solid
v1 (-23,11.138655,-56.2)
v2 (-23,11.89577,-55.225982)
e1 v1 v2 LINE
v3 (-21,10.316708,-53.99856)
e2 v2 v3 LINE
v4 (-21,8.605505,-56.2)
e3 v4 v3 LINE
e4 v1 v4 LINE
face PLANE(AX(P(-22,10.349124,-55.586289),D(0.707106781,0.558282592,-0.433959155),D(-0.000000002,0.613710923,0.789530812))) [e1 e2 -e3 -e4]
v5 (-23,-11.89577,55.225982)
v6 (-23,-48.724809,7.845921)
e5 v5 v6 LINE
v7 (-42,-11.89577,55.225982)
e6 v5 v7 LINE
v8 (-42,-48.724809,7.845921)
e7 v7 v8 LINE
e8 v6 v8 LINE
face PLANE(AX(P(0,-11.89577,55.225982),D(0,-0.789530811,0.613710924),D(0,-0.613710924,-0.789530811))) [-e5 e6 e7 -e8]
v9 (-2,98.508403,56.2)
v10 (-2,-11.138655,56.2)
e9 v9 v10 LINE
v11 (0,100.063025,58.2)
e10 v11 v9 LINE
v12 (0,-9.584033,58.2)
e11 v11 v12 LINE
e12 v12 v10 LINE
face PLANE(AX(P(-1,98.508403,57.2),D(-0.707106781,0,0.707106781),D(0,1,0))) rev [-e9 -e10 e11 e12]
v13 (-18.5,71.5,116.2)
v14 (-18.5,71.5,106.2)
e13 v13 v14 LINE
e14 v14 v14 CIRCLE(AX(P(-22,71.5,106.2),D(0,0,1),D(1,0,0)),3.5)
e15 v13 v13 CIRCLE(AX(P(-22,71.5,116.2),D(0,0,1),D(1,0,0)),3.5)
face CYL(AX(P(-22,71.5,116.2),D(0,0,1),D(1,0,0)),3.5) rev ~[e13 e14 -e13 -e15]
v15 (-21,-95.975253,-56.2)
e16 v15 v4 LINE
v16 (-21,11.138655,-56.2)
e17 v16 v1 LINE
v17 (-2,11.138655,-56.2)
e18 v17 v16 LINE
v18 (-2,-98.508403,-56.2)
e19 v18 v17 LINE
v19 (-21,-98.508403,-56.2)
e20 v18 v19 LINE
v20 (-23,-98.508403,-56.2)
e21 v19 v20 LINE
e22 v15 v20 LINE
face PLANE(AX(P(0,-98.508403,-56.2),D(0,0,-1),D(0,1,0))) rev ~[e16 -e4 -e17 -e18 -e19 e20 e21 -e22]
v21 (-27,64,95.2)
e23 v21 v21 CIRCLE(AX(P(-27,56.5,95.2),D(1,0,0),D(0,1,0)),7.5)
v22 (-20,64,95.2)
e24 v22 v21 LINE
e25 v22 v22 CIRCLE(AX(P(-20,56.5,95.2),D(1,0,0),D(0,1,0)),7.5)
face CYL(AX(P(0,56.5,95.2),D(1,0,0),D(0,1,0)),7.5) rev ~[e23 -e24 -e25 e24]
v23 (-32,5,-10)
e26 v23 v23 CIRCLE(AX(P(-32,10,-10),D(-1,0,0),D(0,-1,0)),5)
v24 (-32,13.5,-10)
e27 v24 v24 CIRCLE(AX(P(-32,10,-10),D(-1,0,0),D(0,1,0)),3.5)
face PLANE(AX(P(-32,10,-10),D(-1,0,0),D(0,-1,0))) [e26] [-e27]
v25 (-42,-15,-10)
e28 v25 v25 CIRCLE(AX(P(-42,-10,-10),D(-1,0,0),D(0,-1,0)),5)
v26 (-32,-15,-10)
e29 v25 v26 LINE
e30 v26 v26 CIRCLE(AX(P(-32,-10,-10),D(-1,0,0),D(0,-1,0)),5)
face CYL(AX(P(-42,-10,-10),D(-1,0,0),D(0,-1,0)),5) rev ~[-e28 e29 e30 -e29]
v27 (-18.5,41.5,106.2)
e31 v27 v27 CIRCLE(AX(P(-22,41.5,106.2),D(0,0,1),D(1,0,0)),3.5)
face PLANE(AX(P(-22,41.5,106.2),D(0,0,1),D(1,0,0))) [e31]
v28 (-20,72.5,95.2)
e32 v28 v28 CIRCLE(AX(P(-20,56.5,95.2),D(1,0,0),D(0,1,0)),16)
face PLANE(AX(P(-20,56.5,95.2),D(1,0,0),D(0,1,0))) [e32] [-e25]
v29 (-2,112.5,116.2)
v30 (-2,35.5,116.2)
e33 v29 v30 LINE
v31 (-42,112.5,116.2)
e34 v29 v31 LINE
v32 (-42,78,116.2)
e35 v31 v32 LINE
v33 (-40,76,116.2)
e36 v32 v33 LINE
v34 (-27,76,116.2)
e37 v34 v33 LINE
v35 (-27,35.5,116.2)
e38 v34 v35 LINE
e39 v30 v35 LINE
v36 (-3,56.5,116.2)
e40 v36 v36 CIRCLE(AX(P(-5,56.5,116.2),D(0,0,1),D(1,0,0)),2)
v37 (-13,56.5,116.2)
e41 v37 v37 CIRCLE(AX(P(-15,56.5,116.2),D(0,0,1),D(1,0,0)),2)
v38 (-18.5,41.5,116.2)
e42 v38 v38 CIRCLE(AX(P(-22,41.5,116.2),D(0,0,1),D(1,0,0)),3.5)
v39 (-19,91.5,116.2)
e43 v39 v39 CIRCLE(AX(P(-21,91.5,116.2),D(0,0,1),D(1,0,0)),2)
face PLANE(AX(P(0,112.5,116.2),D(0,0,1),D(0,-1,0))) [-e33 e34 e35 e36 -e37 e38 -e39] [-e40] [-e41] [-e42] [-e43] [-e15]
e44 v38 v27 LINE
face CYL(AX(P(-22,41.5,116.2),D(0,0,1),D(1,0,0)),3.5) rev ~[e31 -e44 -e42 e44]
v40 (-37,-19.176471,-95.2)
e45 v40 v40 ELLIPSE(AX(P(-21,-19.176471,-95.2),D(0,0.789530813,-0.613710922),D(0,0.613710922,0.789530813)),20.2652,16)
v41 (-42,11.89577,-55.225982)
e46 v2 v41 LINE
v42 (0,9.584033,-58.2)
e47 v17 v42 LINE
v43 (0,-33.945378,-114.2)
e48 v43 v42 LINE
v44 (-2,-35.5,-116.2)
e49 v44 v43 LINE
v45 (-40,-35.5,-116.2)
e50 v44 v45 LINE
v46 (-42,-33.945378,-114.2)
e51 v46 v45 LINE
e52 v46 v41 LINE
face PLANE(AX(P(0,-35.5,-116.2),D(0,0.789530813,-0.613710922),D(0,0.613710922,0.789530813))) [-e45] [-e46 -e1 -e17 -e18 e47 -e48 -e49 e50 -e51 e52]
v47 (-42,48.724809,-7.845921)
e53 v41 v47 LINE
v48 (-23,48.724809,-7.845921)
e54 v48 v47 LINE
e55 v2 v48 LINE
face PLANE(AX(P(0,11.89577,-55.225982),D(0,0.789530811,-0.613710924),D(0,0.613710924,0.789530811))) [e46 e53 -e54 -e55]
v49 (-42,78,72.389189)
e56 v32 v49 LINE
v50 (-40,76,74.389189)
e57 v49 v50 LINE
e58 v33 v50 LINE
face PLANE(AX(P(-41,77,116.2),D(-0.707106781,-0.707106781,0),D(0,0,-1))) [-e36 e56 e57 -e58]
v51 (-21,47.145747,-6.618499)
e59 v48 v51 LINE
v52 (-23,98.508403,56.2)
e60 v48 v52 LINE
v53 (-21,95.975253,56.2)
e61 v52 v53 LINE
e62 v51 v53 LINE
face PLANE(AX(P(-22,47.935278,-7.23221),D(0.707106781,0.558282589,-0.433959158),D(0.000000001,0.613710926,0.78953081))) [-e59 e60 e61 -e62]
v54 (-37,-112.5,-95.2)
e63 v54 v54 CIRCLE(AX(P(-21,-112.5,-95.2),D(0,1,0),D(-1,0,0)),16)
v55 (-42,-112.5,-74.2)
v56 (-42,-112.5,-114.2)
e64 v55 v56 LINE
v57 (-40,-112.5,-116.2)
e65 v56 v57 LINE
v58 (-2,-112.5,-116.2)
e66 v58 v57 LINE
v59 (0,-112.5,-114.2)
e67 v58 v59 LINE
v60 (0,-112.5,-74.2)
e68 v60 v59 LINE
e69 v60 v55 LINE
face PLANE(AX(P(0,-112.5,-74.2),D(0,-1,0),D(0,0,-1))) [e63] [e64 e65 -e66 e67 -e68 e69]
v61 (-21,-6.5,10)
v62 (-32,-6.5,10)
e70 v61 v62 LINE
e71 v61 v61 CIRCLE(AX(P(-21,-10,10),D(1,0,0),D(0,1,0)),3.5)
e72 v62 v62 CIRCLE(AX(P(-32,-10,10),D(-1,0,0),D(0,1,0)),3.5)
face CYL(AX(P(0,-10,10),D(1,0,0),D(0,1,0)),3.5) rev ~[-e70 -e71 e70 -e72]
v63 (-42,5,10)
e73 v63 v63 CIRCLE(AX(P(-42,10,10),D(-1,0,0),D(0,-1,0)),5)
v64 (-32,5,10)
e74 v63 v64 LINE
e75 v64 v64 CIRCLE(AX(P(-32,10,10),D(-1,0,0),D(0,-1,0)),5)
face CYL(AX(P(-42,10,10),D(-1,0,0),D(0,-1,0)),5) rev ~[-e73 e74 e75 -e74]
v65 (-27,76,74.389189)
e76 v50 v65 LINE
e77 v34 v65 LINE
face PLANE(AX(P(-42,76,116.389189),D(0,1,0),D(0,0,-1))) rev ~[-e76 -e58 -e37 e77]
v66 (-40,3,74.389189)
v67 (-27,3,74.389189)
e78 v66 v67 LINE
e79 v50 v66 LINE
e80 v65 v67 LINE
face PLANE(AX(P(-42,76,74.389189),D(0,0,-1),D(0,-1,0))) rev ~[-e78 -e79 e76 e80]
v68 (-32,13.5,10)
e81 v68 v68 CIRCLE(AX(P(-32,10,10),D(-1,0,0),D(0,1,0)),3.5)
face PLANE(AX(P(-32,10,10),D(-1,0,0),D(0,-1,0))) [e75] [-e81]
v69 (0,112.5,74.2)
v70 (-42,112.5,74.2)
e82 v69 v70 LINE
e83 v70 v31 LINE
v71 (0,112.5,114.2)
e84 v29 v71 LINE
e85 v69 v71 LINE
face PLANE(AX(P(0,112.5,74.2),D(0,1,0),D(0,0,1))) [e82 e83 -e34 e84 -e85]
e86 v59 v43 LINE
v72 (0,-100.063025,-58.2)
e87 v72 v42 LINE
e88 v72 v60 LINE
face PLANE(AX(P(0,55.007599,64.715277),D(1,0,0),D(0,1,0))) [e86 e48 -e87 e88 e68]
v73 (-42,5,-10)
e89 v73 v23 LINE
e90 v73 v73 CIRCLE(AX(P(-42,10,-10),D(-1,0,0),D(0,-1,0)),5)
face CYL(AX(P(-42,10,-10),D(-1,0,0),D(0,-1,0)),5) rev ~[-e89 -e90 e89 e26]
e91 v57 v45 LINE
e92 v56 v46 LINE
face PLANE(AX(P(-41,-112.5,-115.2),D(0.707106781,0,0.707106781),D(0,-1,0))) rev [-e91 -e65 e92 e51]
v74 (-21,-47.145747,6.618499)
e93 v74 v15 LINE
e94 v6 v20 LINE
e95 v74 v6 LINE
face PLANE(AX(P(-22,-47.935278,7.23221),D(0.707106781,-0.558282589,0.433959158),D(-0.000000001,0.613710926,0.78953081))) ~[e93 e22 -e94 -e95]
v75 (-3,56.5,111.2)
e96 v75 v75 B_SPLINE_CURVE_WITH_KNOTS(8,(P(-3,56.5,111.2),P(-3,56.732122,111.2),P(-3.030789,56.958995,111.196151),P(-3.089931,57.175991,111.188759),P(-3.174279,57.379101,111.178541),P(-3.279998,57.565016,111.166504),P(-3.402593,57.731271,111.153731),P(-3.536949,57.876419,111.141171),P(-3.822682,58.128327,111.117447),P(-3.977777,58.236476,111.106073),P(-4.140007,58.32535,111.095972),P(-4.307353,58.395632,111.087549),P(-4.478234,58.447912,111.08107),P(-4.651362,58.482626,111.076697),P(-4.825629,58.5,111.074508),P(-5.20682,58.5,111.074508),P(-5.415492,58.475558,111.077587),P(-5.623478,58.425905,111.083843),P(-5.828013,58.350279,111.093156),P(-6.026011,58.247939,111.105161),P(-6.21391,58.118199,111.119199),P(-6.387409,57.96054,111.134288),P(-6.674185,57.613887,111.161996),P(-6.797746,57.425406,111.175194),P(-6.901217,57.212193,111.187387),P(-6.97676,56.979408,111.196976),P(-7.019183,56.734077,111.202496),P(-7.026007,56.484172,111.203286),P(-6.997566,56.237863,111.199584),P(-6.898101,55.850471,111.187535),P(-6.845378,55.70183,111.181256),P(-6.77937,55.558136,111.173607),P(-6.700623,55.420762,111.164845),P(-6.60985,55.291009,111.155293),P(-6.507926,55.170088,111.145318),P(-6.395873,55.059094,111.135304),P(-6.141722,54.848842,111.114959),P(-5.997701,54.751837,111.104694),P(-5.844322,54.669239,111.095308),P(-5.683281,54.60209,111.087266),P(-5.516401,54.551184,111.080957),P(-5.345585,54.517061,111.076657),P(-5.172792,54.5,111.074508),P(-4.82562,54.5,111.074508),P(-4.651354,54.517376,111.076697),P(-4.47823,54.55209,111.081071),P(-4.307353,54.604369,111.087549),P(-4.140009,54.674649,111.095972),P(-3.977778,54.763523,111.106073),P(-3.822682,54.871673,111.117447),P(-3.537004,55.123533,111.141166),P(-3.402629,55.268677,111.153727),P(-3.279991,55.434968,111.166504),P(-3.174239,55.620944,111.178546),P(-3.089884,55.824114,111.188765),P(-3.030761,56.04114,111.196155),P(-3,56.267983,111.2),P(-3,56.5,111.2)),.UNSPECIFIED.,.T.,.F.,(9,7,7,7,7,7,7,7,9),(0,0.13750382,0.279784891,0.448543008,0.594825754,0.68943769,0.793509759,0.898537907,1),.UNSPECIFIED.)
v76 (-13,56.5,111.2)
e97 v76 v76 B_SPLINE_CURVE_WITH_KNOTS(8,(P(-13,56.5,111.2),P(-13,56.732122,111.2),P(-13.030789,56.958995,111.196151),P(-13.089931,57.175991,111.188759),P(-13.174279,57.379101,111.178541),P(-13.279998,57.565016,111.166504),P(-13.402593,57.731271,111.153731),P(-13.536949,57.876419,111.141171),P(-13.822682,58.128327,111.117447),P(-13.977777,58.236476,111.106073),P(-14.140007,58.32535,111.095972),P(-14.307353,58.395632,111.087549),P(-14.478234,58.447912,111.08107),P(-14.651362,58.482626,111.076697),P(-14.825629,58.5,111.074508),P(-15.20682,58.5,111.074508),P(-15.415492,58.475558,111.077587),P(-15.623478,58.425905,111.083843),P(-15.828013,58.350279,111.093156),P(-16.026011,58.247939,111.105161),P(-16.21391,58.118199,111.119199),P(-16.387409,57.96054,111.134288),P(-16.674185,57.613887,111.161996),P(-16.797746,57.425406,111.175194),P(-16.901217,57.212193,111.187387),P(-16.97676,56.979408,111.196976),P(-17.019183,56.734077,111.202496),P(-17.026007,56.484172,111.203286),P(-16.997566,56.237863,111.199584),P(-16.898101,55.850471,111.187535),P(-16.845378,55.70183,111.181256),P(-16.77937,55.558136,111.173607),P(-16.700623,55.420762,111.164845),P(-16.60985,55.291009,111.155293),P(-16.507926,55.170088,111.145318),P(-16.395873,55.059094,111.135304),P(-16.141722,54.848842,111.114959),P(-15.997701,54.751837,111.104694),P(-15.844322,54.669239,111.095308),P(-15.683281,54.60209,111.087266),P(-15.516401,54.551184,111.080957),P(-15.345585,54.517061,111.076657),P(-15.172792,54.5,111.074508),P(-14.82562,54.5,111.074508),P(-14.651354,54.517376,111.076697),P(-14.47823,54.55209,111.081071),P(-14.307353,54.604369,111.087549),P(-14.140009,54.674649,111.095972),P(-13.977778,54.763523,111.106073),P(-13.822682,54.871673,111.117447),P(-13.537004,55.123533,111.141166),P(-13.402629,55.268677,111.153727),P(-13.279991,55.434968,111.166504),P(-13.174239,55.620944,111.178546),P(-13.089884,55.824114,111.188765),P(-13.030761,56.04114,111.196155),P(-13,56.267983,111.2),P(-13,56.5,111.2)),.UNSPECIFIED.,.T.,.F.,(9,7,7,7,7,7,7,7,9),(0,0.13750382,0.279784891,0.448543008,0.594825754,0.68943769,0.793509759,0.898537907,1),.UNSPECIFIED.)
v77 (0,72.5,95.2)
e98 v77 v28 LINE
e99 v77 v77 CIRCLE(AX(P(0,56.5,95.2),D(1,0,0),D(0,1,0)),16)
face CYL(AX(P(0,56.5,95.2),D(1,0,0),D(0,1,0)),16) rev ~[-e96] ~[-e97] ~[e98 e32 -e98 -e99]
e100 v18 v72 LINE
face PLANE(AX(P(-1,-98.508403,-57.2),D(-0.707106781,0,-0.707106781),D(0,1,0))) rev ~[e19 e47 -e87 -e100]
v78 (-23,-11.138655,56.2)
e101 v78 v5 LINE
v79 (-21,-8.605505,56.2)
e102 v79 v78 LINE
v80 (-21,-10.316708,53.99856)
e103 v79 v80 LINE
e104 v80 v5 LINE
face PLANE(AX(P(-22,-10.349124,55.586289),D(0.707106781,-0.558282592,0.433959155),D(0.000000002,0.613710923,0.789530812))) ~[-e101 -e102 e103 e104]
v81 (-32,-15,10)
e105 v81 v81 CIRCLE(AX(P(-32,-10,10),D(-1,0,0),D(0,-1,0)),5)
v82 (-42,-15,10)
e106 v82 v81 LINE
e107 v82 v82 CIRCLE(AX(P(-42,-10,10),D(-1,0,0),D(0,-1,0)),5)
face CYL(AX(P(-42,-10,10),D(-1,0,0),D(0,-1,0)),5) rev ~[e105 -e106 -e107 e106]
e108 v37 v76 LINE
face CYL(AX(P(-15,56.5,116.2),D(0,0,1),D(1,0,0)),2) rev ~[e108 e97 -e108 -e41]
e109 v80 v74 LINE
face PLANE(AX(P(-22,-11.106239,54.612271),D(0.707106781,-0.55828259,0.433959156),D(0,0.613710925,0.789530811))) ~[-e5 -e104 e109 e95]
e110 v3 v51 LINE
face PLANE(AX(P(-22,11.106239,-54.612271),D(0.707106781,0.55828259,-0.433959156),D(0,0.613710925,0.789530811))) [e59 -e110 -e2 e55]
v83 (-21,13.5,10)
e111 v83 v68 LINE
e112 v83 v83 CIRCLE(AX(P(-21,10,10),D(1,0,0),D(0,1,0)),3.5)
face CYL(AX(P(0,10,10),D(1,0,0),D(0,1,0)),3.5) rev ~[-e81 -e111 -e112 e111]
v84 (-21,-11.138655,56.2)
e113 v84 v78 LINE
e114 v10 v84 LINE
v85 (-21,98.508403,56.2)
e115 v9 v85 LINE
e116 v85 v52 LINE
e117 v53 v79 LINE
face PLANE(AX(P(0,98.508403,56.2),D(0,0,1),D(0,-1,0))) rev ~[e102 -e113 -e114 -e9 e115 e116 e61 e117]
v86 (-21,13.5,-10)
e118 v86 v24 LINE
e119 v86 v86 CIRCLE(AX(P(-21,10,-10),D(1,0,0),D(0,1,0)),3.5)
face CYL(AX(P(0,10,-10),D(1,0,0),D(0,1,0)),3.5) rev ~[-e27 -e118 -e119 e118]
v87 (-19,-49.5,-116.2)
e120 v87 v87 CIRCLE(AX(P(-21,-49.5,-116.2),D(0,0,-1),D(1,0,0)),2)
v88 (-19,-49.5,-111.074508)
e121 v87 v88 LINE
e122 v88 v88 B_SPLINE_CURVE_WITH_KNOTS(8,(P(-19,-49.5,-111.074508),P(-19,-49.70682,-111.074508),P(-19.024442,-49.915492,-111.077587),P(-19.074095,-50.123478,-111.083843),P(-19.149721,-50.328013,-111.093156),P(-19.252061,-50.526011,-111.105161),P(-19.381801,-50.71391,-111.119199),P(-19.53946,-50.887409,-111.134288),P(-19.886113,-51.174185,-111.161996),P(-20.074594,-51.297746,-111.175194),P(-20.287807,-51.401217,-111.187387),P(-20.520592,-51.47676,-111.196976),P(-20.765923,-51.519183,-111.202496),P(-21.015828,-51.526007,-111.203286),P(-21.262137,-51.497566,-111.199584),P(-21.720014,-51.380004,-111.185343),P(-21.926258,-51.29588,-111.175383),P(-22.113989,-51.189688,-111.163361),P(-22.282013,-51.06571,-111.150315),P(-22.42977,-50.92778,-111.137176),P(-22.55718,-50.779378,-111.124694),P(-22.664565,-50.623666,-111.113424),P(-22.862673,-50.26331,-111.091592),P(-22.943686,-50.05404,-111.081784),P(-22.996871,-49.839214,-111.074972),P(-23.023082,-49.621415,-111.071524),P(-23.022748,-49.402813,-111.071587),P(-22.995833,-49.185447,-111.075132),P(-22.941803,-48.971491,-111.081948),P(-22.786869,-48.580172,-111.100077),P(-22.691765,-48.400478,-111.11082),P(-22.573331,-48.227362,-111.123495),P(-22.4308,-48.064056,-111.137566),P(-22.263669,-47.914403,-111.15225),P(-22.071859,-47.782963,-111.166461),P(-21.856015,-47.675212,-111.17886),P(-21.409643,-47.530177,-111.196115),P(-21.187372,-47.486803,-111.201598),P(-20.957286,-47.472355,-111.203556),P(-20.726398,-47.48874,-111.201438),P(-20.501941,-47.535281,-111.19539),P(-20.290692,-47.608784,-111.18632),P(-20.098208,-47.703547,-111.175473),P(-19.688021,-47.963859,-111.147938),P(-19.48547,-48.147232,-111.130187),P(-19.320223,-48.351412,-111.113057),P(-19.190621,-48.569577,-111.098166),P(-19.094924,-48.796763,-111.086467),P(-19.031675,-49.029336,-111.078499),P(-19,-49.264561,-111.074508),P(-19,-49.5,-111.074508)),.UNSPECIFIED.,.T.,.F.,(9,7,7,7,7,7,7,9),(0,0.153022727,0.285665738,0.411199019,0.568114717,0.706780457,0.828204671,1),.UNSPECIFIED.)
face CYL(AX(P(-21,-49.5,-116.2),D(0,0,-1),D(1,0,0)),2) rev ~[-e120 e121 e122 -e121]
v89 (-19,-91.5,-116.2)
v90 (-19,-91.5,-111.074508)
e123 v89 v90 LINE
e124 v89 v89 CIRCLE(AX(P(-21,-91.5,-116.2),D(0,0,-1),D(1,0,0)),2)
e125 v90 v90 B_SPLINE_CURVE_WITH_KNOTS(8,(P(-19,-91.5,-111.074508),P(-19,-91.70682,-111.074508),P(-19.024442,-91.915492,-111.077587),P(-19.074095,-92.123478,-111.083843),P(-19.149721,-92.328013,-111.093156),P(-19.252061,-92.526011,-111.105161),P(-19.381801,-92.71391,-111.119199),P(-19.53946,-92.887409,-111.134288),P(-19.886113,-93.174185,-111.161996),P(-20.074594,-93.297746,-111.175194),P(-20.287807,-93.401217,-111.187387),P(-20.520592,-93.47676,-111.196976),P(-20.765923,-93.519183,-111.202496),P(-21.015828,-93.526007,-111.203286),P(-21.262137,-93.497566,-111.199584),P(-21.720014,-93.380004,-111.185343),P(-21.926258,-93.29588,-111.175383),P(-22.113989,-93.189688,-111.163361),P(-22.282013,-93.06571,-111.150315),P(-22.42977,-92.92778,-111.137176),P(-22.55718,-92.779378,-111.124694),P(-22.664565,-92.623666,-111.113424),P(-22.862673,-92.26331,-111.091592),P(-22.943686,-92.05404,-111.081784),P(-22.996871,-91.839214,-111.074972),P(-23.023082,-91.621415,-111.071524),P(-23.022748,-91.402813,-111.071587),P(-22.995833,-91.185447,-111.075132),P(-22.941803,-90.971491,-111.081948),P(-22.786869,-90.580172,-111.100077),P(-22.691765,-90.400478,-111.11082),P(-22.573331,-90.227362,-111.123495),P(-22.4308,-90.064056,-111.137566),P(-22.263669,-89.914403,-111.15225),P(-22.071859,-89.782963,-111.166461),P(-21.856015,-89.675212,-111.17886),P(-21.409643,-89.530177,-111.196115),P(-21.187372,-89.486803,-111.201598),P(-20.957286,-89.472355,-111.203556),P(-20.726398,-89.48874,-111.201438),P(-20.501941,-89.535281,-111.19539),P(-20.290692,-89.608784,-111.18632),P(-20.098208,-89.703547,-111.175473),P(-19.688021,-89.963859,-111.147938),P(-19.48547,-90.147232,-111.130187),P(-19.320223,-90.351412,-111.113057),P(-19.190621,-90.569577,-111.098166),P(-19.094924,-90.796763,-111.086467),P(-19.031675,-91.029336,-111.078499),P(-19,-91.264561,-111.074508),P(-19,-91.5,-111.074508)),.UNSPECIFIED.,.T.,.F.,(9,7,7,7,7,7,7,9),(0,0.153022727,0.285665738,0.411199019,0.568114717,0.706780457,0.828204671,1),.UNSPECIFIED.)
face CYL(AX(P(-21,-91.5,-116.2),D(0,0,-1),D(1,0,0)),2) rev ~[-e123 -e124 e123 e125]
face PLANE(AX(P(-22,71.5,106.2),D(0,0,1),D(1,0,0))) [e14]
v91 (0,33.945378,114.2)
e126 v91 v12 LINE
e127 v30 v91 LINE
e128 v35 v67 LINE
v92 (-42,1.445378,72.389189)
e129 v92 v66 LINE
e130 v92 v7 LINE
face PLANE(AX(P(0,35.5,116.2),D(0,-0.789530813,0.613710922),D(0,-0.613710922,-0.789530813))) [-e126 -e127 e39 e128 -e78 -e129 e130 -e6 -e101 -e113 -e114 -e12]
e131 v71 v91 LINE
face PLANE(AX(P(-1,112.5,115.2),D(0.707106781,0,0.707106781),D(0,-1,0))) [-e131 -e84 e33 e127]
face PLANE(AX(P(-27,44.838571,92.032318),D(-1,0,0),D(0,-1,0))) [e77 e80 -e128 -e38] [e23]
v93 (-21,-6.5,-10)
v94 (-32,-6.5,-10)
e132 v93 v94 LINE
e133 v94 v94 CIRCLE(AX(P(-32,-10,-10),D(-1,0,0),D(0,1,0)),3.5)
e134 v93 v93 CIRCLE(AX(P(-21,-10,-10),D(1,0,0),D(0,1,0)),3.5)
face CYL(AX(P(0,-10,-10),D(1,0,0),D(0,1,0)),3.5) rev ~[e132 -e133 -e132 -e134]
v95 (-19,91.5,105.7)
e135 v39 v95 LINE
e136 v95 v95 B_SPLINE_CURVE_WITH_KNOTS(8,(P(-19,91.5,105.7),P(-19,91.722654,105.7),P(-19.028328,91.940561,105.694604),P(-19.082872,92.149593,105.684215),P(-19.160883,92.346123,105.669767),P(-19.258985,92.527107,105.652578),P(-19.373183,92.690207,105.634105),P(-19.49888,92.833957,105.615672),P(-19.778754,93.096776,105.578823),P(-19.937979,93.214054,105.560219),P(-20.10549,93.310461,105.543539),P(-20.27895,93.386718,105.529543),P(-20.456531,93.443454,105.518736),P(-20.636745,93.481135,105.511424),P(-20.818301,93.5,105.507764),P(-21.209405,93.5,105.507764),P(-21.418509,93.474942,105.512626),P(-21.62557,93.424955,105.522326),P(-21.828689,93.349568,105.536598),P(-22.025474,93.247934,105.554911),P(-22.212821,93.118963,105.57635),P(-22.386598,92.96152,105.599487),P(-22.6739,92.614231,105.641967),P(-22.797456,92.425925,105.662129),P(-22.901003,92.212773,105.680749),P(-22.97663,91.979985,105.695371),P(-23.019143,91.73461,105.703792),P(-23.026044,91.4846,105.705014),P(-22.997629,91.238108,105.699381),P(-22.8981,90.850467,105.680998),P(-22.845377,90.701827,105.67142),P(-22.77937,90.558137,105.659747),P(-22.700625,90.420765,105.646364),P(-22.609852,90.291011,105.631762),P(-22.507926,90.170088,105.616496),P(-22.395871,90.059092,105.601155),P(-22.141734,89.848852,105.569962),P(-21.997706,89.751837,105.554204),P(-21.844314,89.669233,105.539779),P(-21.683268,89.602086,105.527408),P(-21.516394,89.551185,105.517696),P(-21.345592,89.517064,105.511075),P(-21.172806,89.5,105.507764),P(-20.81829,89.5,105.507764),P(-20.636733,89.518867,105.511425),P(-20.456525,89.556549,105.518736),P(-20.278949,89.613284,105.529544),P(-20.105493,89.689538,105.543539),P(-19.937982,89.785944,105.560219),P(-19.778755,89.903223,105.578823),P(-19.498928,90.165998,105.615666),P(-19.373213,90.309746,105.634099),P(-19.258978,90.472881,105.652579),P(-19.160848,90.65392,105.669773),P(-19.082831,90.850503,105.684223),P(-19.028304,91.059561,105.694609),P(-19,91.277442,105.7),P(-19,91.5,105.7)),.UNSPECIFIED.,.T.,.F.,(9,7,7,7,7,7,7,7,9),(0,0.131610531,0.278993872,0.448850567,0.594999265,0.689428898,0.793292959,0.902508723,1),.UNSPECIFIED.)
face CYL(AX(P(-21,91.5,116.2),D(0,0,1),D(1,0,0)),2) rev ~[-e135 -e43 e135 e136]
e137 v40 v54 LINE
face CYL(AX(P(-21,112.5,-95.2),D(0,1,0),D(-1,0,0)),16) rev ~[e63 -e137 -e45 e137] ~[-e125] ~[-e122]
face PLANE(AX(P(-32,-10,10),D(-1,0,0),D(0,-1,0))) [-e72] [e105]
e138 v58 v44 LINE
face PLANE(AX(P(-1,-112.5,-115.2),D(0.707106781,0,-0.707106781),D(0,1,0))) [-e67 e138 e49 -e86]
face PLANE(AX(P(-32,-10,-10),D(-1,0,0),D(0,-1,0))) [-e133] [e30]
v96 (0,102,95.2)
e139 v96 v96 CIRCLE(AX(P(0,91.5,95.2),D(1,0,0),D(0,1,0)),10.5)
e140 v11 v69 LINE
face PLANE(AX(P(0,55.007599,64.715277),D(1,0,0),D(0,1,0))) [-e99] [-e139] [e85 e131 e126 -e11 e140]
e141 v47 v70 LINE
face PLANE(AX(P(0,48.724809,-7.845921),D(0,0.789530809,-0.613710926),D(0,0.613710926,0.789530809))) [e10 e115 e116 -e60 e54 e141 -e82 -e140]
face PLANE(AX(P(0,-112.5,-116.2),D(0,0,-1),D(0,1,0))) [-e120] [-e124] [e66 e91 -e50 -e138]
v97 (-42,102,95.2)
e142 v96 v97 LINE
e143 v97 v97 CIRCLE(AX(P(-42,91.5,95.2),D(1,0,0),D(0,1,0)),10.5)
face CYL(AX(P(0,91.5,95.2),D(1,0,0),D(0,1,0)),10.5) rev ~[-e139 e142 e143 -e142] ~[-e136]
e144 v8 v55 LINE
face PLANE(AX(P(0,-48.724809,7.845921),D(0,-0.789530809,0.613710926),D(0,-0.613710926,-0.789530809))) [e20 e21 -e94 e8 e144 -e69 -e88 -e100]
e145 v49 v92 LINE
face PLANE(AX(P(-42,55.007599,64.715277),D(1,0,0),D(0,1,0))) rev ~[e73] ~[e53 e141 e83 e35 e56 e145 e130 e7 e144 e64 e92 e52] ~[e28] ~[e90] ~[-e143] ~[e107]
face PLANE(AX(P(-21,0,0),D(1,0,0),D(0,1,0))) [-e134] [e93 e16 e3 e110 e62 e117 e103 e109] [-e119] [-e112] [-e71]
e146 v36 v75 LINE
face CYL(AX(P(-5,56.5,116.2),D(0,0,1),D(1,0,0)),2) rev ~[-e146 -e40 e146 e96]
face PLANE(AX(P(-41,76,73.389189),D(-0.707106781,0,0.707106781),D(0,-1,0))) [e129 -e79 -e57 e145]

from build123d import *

# Parameters (mm, degrees)
F0_R      = 7.5
F0_R_2    = 10.5
F0_R_3    = 3.5
F1_DEPTH  = 42
F2_R      = 5
F2_R_2    = 3.5
F3_DEPTH  = 10
F4_R      = 3.5
F5_DEPTH  = 21
F6_R      = 16
F7_DEPTH  = 250
F8_R      = 2
F9_DEPTH  = 25
F10_R     = 7.5
F11_DEPTH = 15
F12_R     = 2
F13_DEPTH = 25
F14_R     = 16
F15_DEPTH = 20
F16_SIZE  = 2
F12_R_2   = 3.5
F17_DEPTH = 10


with BuildPart() as f1:
    # F0 (on Right) → F1 (new body)
    with BuildSketch(Plane.YZ):
        Polygon((112.5, 74.2), (112.5, 116.2), (35.5, 116.2), (-11.89577, 55.225982), (48.724809, -7.845921), align=None)
        with Locations((56.5, 95.2)):
            Circle(F0_R, mode=Mode.SUBTRACT)
        with Locations((91.5, 95.2)):
            Circle(F0_R_2, mode=Mode.SUBTRACT)
        Polygon((48.724809, -7.845921), (-11.89577, 55.225982), (-48.724809, 7.845921), (11.89577, -55.225982), align=None)
        with Locations((-10, -10)):
            Circle(F0_R_3, mode=Mode.SUBTRACT)
        with Locations((10, -10)):
            Circle(F0_R_3, mode=Mode.SUBTRACT)
        with Locations((-10, 10)):
            Circle(F0_R_3, mode=Mode.SUBTRACT)
        with Locations((10, 10)):
            Circle(F0_R_3, mode=Mode.SUBTRACT)
        Polygon((11.89577, -55.225982), (-48.724809, 7.845921), (-112.5, -74.2), (-112.5, -116.2), (-35.5, -116.2), align=None)
    extrude(amount=-F1_DEPTH)

    # F2 (on face) → F3 (cut)
    with BuildSketch(Plane(origin=(-42, 0, 0), x_dir=(0, -1, 0), z_dir=(-1, 0, 0))):
        with Locations((-10, 10)):
            Circle(F2_R)
        with Locations((-10, 10)):
            Circle(F2_R_2, mode=Mode.SUBTRACT)
        with Locations((-10, -10)):
            Circle(F2_R)
        with Locations((-10, -10)):
            Circle(F2_R_2, mode=Mode.SUBTRACT)
        with Locations((10, 10)):
            Circle(F2_R)
        with Locations((10, 10)):
            Circle(F2_R_2, mode=Mode.SUBTRACT)
        with Locations((10, -10)):
            Circle(F2_R)
        with Locations((10, -10)):
            Circle(F2_R_2, mode=Mode.SUBTRACT)
    extrude(amount=-F3_DEPTH, mode=Mode.SUBTRACT)

    # F4 (on face) → F5 (cut)
    with BuildSketch(Plane.YZ):
        Polygon((11.138655, -56.2), (98.508403, 56.2), (-11.138655, 56.2), (-98.508403, -56.2), align=None)
        with Locations((-10, -10)):
            Circle(F4_R, mode=Mode.SUBTRACT)
        with Locations((10, -10)):
            Circle(F4_R, mode=Mode.SUBTRACT)
        with Locations((-10, 10)):
            Circle(F4_R, mode=Mode.SUBTRACT)
        with Locations((10, 10)):
            Circle(F4_R, mode=Mode.SUBTRACT)
    extrude(amount=-F5_DEPTH, mode=Mode.SUBTRACT)

    # F6 (on face) → F7 (cut)
    with BuildSketch(Plane(origin=(0, 112.5, 0), x_dir=(-1, 0, 0), z_dir=(0, 1, 0))):
        with Locations((21, -95.2)):
            Circle(F6_R)
    extrude(amount=-F7_DEPTH, mode=Mode.SUBTRACT)

    # F8 (on face) → F9 (cut)
    with BuildSketch(Plane(origin=(0, 0, -116.2), x_dir=(1, 0, 0), z_dir=(0, 0, -1))):
        with Locations((-21, 49.5)):
            Circle(F8_R)
        with Locations((-21, 91.5)):
            Circle(F8_R)
    extrude(amount=-F9_DEPTH, mode=Mode.SUBTRACT)

    # F10 (on face) → F11 (cut)
    with BuildSketch(Plane(origin=(-42, 0, 0), x_dir=(0, -1, 0), z_dir=(-1, 0, 0))):
        Polygon((-35.5, 116.2), (-76, 116.2), (-76, 74.389189), (-3, 74.389189), align=None)
        with Locations((-56.5, 95.2)):
            Circle(F10_R, mode=Mode.SUBTRACT)
        Polygon((-3, 116.389189), (-76, 116.389189), (-76, 116.2), (-35.5, 116.2), (-3, 74.389189), align=None)
    extrude(amount=-F11_DEPTH, mode=Mode.SUBTRACT)

    # F12 (on face) → F13 (cut)
    with BuildSketch(Plane.XY.offset(116.2)):
        with Locations((-21, 91.5)):
            Circle(F12_R)
        with Locations((-15, 56.5)):
            Circle(F12_R)
        with Locations((-5, 56.5)):
            Circle(F12_R)
    extrude(amount=-F13_DEPTH, mode=Mode.SUBTRACT)

    # F14 (on face) → F15 (cut)
    with BuildSketch(Plane.YZ):
        with Locations((56.5, 95.2)):
            Circle(F14_R)
    extrude(amount=-F15_DEPTH, mode=Mode.SUBTRACT)

    # F16
    f16_edges = [f1.edges().sort_by_distance(p)[0] for p in [
        (0, 43.684874, 56.2),
        (0, -43.684874, -56.2),
        (-42, -74, -116.2),
        (0, -74, -116.2),
        (0, 74, 116.2),
        (-21, -54.823529, 0),
        (-21, 54.823529, 0),
        (-42, 39.5, 74.389189),
        (-42, 76, 95.294595),
    ]]
    chamfer(f16_edges, length=F16_SIZE)

    # F12 (on face) → F17 (cut)
    with BuildSketch(Plane.XY.offset(116.2)):
        with Locations((-22, 71.5)):
            Circle(F12_R_2)
        with Locations((-22, 41.5)):
            Circle(F12_R_2)
    extrude(amount=-F17_DEPTH, mode=Mode.SUBTRACT)


solid = f1.part
